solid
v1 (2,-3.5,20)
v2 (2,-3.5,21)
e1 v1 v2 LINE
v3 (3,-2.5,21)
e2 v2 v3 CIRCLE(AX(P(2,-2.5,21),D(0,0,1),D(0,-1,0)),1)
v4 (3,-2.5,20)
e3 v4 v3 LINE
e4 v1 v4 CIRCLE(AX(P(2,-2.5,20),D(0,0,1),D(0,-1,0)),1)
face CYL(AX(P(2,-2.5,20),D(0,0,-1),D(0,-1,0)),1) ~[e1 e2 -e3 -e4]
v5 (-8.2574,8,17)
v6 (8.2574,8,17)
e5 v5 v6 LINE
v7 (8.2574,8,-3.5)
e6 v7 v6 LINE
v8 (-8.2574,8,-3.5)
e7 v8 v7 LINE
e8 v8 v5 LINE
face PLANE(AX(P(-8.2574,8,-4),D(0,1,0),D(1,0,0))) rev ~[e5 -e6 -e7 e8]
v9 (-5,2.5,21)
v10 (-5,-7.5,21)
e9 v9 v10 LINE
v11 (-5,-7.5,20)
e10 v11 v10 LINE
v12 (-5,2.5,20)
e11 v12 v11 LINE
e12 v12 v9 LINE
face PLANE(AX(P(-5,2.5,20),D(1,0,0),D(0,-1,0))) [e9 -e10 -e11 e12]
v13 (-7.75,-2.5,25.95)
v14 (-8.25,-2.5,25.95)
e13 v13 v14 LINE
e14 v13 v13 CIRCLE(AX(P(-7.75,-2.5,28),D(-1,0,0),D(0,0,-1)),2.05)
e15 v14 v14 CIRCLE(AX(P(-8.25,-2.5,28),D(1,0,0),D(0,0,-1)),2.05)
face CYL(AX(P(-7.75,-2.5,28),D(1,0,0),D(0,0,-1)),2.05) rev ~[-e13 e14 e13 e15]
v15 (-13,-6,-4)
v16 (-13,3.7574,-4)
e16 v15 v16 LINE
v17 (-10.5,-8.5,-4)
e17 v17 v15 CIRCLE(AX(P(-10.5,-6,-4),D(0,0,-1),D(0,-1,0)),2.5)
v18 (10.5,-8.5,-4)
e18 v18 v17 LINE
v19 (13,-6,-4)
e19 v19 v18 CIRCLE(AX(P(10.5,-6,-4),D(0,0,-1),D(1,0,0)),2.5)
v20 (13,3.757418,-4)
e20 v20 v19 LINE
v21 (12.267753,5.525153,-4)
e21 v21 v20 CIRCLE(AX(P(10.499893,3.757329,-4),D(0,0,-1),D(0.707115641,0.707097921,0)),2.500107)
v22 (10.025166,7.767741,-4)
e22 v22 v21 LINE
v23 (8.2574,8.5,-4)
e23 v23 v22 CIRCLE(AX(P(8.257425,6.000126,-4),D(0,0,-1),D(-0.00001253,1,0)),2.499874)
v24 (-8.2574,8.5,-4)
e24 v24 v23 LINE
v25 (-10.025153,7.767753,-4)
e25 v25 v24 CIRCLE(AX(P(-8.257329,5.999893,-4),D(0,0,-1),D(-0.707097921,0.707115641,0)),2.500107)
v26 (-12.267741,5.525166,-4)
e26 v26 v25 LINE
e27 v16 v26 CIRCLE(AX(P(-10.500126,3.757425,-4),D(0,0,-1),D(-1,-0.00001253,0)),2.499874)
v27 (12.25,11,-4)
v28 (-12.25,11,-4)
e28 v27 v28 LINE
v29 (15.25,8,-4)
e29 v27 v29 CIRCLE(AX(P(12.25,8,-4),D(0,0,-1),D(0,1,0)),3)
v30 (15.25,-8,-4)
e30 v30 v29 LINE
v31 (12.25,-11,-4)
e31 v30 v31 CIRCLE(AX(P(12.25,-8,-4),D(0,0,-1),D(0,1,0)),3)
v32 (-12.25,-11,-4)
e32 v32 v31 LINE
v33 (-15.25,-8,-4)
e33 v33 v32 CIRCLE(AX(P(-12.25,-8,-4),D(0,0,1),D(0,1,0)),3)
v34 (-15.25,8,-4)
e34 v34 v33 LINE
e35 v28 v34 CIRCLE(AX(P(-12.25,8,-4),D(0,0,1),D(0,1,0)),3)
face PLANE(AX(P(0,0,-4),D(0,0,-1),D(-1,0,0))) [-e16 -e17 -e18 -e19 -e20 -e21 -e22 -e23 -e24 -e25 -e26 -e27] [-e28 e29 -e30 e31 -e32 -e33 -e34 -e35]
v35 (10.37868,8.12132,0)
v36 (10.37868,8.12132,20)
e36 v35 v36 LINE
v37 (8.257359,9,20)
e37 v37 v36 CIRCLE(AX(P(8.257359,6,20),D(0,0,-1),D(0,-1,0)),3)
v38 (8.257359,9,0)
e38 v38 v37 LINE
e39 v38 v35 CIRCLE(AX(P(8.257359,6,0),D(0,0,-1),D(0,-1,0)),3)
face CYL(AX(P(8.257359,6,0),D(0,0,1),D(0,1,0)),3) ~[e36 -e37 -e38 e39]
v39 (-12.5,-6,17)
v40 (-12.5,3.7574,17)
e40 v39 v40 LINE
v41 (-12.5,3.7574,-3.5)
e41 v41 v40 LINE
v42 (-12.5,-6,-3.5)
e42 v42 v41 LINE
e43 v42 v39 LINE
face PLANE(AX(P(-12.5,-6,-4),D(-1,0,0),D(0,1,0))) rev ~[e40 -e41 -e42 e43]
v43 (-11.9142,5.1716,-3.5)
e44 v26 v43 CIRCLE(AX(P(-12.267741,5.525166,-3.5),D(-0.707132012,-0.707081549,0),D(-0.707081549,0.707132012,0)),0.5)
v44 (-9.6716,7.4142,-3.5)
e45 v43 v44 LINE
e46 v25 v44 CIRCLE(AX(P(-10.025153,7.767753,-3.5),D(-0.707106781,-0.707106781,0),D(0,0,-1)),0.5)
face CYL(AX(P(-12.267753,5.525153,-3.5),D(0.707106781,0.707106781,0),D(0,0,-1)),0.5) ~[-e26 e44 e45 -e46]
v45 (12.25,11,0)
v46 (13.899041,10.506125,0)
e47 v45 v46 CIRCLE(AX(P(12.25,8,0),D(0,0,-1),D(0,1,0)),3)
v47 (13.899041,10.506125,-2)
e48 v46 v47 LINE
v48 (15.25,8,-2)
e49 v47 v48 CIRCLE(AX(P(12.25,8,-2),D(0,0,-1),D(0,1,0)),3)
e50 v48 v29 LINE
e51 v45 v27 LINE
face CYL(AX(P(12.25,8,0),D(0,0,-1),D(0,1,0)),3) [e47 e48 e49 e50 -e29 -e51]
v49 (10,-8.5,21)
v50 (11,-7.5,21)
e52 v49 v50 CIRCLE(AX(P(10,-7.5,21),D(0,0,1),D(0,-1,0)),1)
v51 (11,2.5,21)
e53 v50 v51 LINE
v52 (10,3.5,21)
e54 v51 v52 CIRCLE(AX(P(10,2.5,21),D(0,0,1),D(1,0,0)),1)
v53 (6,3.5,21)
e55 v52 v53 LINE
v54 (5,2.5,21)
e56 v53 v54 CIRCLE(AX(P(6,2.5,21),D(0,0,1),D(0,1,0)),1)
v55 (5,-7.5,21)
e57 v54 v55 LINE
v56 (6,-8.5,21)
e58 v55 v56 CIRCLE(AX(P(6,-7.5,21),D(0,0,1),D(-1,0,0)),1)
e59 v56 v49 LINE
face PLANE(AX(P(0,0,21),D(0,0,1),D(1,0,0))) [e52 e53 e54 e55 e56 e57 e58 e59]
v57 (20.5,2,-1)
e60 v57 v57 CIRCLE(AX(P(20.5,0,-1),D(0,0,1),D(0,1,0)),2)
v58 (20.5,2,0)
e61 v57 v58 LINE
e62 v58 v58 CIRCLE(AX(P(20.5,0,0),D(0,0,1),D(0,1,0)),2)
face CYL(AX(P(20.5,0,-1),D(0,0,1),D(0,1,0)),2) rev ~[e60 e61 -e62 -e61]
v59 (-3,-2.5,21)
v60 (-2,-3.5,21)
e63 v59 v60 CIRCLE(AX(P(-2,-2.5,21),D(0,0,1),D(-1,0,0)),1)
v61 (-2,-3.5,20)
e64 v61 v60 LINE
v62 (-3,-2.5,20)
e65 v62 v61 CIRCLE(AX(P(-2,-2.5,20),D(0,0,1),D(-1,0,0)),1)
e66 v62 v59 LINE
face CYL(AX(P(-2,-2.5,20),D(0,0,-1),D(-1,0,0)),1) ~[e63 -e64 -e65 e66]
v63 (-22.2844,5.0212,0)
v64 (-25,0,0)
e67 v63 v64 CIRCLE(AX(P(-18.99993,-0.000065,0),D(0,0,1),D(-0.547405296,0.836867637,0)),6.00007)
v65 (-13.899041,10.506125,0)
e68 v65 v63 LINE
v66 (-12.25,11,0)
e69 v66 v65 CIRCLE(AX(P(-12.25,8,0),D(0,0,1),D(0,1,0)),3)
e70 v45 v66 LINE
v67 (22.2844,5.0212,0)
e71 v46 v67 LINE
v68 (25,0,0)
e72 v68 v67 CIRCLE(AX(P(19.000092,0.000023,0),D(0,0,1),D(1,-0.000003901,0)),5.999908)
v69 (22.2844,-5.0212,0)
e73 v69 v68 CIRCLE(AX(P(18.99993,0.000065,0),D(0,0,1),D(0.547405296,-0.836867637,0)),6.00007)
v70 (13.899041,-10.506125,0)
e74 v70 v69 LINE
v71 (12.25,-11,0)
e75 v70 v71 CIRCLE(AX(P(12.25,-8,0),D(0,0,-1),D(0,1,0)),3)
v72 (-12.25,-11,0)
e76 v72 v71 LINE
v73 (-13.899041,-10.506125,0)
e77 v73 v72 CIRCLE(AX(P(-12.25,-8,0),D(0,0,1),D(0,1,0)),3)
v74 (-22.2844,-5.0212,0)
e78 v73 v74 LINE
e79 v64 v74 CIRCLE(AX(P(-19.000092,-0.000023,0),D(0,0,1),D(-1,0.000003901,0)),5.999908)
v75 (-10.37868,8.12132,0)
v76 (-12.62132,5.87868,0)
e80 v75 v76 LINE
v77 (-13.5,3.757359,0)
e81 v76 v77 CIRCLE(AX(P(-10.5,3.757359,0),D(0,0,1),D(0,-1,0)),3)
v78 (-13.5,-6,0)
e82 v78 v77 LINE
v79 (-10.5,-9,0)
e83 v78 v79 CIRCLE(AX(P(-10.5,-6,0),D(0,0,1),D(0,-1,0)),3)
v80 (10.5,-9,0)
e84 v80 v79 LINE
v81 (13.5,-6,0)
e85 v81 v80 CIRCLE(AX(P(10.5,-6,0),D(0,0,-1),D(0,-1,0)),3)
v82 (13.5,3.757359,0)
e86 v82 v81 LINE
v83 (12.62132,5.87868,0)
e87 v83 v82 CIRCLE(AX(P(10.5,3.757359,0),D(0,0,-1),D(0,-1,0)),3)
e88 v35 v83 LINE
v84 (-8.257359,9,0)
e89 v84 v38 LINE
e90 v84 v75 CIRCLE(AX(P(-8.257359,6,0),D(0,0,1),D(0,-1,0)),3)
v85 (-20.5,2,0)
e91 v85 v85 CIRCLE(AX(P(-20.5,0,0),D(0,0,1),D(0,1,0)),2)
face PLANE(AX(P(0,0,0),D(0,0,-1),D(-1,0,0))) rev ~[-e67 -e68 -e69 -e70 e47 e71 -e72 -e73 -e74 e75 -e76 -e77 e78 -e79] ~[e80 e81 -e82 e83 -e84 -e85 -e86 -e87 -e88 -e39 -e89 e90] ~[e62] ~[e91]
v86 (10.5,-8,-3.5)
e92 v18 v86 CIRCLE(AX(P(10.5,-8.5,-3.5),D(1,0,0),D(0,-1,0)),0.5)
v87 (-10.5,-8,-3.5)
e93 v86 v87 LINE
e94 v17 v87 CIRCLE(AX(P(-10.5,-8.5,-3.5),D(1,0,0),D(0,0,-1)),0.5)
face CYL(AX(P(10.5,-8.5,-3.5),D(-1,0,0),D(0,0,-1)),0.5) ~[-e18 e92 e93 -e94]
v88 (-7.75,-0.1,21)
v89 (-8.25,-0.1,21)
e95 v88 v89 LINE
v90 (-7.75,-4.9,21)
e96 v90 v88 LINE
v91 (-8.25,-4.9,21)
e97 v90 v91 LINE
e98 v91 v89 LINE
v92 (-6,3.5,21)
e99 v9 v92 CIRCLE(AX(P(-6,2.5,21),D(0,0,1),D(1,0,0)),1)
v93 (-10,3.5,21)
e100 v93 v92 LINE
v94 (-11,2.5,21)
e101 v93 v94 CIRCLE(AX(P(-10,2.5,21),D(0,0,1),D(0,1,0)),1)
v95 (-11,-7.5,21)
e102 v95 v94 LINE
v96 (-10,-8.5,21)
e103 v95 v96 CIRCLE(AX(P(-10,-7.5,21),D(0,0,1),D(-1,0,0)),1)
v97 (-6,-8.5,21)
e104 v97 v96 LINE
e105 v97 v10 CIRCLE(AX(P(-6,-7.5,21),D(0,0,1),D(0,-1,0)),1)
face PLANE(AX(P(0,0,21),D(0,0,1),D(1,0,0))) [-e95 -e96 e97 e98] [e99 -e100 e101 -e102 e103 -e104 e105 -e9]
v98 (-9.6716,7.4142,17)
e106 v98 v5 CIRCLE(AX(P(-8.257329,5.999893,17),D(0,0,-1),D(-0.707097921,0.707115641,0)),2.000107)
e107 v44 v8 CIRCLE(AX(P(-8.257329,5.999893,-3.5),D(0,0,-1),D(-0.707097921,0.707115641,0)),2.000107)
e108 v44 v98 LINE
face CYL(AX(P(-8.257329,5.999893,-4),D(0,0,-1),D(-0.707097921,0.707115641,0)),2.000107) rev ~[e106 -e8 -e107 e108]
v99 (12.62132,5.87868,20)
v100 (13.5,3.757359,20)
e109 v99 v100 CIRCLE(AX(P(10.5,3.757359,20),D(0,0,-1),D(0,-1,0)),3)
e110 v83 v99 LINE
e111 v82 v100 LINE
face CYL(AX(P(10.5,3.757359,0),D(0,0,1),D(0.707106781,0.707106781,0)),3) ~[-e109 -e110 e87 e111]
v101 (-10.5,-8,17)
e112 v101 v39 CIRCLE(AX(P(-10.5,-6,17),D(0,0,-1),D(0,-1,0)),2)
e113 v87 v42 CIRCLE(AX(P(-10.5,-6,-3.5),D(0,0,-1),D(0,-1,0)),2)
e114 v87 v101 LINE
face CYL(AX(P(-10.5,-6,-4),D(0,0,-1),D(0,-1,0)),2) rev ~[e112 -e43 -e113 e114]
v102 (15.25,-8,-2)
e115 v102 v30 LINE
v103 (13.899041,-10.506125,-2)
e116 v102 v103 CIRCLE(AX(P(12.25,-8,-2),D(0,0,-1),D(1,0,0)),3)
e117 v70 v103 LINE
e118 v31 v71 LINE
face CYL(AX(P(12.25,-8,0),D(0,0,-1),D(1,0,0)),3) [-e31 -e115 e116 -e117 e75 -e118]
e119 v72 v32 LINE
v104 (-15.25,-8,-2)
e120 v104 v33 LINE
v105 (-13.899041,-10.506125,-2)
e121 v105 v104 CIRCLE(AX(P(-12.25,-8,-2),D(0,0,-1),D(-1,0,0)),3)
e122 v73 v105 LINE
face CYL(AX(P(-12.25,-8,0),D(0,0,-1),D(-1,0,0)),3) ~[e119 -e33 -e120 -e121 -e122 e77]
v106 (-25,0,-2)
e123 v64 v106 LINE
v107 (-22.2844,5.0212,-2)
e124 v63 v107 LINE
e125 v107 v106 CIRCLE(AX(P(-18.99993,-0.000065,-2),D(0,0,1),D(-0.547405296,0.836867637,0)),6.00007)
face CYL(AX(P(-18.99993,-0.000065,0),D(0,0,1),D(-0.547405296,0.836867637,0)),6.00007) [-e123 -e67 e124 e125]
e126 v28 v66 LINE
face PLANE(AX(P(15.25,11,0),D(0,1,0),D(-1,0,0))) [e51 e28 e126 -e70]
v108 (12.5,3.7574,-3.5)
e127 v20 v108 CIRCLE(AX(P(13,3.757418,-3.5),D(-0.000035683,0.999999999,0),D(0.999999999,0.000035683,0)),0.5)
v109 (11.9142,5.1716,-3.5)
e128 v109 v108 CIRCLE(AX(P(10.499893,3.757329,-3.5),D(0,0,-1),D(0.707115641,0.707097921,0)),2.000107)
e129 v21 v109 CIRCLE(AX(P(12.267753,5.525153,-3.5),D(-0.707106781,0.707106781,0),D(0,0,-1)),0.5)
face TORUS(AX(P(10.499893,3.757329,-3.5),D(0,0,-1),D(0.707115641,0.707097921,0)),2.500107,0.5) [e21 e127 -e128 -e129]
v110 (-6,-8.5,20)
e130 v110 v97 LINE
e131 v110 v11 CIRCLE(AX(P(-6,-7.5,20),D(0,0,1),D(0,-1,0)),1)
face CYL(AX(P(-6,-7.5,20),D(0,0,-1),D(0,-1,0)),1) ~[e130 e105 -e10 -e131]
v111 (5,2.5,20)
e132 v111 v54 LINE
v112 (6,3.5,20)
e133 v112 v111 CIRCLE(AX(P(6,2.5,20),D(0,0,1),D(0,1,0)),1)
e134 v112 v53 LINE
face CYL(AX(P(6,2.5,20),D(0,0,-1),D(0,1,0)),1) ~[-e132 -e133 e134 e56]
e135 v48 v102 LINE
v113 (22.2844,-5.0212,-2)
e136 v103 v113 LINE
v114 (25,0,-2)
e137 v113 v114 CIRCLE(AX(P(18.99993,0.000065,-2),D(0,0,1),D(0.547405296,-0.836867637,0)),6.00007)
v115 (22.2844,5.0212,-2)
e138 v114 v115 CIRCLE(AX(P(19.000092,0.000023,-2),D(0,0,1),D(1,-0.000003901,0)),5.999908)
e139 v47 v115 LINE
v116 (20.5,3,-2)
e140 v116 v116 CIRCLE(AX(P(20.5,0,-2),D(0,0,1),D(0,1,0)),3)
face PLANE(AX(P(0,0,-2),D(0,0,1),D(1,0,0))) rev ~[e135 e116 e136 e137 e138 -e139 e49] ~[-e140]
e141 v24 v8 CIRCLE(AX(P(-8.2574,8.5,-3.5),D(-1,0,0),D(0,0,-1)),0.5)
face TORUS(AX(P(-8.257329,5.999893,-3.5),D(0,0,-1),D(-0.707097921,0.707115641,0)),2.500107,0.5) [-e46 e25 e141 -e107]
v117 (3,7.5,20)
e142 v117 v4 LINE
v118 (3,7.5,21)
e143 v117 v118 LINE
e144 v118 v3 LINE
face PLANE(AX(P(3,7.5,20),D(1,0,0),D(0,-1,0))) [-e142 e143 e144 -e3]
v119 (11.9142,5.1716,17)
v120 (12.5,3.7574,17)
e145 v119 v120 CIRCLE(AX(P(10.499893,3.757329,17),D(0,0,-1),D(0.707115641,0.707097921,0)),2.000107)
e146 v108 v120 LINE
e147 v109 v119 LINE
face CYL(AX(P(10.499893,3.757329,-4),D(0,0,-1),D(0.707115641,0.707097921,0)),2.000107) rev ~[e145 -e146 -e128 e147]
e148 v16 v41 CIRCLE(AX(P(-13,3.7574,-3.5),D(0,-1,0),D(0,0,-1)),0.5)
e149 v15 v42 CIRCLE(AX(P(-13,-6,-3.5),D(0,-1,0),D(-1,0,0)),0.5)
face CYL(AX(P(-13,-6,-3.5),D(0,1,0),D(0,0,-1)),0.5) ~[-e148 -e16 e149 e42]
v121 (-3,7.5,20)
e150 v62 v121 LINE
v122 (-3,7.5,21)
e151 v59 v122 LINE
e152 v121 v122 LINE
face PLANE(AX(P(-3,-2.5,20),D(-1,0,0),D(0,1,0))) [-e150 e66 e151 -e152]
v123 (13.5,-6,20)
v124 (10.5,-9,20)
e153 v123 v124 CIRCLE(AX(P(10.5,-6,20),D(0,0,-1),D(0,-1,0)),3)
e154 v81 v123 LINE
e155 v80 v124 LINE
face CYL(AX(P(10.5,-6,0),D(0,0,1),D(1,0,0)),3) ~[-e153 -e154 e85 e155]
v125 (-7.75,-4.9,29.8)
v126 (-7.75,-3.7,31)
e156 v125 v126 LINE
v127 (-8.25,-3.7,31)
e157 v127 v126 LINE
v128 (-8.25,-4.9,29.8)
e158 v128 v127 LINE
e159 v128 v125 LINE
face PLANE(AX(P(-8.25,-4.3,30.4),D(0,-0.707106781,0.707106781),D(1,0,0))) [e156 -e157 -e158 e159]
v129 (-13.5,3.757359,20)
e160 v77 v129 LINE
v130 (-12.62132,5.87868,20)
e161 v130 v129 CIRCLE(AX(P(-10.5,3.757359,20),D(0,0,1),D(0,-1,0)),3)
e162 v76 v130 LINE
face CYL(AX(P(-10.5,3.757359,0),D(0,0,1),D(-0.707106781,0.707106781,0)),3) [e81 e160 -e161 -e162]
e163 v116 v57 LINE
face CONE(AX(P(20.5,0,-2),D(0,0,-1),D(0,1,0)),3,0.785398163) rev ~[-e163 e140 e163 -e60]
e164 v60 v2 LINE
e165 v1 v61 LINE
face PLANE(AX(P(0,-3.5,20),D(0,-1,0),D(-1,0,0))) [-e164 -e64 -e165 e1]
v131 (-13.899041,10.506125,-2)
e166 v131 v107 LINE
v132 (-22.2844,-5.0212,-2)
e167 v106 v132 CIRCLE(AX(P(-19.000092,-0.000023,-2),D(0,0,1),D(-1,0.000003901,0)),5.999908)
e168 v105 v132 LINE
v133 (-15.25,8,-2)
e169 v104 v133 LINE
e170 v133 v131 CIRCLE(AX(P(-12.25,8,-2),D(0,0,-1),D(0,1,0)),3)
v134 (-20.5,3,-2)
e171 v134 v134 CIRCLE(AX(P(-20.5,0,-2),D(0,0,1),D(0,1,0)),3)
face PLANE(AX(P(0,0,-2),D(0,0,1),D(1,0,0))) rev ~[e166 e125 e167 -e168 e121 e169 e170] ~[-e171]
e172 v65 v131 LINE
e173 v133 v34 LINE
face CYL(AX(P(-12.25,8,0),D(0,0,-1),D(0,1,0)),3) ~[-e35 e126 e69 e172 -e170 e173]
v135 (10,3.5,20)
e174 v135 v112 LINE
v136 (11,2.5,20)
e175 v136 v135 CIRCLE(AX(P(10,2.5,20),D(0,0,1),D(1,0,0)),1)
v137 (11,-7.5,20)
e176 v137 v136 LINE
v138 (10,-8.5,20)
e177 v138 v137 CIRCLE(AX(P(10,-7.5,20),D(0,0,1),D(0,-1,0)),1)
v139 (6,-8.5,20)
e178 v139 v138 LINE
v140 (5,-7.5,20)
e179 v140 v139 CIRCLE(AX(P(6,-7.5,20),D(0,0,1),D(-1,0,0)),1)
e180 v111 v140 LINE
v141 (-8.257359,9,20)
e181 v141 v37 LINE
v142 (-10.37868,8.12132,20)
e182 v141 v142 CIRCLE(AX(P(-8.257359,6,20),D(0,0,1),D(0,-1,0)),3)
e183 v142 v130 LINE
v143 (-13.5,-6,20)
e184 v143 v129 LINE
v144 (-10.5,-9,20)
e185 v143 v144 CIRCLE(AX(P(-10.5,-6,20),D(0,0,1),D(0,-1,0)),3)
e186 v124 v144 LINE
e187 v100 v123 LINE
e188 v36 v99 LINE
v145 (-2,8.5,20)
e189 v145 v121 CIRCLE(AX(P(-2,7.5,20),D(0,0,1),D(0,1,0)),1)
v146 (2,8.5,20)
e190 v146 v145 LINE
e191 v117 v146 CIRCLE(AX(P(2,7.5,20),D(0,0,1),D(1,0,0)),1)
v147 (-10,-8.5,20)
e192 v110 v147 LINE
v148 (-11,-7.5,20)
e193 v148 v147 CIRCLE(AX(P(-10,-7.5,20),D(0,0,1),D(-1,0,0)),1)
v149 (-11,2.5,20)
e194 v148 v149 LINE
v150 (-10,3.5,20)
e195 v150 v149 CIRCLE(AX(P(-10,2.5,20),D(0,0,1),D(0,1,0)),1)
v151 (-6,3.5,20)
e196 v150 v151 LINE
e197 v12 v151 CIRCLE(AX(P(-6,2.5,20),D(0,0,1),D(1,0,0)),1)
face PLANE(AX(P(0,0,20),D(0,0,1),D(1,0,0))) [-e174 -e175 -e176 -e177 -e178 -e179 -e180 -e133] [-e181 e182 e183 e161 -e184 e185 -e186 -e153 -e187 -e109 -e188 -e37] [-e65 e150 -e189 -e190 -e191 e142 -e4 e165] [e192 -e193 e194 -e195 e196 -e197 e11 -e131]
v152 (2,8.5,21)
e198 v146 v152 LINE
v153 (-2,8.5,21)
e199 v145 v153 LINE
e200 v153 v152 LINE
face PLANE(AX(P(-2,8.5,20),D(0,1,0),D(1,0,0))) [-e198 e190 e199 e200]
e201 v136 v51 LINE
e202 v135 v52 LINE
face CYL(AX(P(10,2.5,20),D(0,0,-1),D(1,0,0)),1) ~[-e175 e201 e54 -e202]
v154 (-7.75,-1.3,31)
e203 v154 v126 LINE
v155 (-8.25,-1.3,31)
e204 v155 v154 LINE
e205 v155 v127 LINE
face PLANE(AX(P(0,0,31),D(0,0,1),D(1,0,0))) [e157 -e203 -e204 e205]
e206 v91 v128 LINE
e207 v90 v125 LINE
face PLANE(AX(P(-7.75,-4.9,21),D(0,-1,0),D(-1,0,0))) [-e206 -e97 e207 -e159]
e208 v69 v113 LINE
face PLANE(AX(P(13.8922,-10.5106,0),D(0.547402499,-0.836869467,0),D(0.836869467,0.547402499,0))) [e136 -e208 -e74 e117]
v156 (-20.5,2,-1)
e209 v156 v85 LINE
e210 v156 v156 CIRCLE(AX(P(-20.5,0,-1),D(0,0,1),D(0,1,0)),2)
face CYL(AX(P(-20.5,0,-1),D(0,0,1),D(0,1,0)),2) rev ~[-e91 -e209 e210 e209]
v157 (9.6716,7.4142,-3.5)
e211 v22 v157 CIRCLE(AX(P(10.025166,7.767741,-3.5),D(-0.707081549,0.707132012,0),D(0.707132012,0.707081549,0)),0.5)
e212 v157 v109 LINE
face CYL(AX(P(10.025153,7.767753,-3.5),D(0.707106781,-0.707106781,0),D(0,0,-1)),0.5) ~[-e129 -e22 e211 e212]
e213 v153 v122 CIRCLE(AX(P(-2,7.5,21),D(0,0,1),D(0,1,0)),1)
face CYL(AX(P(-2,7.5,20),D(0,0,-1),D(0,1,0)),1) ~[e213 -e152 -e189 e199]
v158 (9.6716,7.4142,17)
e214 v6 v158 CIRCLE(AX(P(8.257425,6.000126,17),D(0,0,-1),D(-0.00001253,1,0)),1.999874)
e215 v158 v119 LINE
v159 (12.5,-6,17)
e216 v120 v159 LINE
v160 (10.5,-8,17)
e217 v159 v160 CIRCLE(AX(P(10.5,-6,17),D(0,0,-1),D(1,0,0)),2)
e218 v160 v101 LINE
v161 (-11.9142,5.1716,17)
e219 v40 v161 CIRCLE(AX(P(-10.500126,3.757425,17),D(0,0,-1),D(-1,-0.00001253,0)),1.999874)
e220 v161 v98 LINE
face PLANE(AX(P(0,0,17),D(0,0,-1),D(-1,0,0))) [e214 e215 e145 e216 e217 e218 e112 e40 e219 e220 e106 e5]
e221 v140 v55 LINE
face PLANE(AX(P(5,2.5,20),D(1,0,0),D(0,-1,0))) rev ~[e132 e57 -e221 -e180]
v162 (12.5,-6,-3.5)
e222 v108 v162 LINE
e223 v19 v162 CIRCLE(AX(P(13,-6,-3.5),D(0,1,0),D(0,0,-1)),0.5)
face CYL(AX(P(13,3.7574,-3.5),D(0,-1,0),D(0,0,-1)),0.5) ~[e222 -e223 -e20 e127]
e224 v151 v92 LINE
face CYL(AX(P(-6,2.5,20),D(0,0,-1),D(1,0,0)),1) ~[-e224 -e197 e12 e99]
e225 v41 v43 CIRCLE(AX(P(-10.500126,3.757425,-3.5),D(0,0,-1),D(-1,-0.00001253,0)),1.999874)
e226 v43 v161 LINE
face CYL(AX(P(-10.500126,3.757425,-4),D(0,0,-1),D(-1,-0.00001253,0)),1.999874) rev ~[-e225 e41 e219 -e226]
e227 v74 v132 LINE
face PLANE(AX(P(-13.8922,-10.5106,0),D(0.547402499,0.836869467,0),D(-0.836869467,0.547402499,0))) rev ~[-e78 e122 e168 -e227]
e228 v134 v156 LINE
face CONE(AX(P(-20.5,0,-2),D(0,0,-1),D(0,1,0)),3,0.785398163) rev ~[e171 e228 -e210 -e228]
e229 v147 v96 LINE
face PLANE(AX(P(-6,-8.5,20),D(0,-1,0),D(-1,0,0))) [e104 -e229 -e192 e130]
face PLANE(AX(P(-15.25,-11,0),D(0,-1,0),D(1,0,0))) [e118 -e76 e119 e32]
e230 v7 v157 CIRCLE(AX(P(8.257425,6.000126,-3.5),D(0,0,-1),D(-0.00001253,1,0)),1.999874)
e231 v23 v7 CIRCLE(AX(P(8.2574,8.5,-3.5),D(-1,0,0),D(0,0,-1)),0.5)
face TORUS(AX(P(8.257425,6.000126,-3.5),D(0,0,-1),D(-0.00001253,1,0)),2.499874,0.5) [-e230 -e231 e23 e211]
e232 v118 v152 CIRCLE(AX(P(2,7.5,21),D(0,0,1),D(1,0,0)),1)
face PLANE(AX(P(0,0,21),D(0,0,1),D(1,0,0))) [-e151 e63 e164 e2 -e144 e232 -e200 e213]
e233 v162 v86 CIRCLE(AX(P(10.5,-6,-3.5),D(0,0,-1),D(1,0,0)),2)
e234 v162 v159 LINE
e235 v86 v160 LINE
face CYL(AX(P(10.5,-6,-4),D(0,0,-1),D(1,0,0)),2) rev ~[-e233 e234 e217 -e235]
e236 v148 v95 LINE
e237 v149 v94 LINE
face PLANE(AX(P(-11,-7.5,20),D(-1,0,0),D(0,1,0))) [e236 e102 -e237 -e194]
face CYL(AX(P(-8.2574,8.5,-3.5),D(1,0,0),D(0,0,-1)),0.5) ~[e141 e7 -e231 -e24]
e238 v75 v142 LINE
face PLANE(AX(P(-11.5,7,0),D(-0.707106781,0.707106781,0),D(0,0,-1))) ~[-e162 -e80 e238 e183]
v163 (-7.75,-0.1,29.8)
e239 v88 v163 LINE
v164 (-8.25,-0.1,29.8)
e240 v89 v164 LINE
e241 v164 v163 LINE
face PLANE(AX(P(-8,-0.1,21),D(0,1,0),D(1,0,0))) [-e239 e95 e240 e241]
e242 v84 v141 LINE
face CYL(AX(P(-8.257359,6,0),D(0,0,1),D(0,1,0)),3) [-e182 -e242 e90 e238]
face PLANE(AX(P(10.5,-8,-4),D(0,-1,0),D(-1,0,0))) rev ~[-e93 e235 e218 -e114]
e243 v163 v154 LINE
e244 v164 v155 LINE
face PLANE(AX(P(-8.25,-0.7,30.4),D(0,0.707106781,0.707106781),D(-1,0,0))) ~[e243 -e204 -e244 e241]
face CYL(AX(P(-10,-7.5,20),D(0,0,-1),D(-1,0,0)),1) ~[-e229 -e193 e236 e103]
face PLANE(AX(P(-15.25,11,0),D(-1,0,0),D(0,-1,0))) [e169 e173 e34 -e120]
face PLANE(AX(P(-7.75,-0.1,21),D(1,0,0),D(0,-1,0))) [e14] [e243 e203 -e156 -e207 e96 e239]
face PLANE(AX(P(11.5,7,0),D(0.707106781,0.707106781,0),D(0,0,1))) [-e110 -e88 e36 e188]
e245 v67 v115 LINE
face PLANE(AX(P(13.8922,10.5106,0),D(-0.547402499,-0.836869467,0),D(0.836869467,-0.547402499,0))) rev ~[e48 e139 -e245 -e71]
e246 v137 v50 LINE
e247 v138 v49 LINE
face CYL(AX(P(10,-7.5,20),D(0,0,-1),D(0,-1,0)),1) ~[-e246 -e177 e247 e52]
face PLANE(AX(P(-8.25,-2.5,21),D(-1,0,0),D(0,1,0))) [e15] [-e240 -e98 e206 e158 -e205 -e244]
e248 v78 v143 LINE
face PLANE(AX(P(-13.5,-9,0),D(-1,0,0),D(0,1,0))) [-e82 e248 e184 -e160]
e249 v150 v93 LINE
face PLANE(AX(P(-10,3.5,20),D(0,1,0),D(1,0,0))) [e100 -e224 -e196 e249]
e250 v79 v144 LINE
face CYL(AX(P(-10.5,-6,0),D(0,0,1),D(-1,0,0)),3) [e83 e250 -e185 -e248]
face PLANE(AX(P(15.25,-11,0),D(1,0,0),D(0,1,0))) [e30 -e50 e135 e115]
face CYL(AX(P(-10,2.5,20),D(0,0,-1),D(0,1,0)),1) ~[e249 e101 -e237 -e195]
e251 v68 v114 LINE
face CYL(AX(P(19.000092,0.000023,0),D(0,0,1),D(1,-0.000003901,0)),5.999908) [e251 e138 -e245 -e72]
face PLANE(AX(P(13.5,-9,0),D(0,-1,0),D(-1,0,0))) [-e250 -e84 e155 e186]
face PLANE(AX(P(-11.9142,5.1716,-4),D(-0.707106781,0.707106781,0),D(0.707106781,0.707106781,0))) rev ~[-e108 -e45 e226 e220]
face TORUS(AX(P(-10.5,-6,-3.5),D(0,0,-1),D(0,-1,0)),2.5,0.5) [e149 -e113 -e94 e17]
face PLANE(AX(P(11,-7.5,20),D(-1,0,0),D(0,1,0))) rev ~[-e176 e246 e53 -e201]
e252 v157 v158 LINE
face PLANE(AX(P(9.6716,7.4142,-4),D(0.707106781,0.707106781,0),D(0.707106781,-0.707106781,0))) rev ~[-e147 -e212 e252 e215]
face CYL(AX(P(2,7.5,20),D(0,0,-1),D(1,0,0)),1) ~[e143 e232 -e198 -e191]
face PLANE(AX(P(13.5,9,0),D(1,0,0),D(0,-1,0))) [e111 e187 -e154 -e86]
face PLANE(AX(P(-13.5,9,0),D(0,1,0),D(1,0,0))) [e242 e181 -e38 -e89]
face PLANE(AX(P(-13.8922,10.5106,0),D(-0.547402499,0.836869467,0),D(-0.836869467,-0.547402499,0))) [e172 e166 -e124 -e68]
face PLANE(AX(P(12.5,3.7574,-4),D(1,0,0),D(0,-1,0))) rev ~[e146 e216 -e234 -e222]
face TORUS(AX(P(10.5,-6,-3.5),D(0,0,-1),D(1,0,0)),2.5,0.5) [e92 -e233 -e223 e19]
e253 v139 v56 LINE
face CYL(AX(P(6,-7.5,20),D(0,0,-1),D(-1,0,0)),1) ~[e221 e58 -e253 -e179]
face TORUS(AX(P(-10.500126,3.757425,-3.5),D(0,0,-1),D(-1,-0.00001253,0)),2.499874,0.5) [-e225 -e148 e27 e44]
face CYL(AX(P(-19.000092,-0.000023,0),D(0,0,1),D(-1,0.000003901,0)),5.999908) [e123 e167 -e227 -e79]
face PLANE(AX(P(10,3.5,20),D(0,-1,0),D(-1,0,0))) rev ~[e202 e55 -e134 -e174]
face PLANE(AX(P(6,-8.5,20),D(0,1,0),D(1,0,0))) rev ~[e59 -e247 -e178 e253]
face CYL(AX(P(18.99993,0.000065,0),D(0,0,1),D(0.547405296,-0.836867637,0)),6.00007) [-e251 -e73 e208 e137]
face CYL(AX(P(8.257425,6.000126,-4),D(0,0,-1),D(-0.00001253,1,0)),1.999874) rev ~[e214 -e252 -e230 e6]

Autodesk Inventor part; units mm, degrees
ref_plane "YZ Plane" through (0, 0, 0) normal (1, 0, 0) x (0, 1, 0)
ref_plane "XZ Plane" through (0, 0, 0) normal (0, 1, 0) x (-1, 0, 0)
ref_plane "XY Plane" through (0, 0, 0) normal (0, 0, 1) x (1, 0, 0)
sketch "Sketch1" plane through (0, 0, 0) normal (0, 0, 1) x (1, 0, 0)
  line L0 (-13.5, 9) -> (13.5, 9)
  line L1 (13.5, 9) -> (13.5, -9)
  line L2 (13.5, -9) -> (-13.5, -9)
  line L3 (-13.5, -9) -> (-13.5, 9)
  line L4 (-13.5, 9) -> (13.5, -9) construction
  line L5 (13.5, 9) -> (-13.5, -9) construction
  point P0 (0, 0)
  dimension "c14_inside_outer_width" = 27
  dimension "c14_inside_outer_height" = 18
extrude "Extrusion1" add sketch "Sketch1" along normal blind 20
chamfer "Chamfer1" distance 4 angle 45 2 edges at (-13.5, 9, 10) (13.5, 9, 10)
sketch "Sketch2" plane through (0, 0, 20) normal (0, 0, 1) x (1, 0, 0)
  line L0 (-2, 8.5) -> (2, 8.5)
  line L1 (3, 7.5) -> (3, -2.5)
  line L2 (2, -3.5) -> (-2, -3.5)
  line L3 (-3, -2.5) -> (-3, 7.5)
  line L4 (-3, 8.5) -> (3, -3.5) construction
  line L5 (3, 8.5) -> (-3, -3.5) construction
  line L6 (9.5, 9) -> (-9.5, 9) construction
  line L7 (0, 9) -> (0, -9)
  line L8 (-13.5, -9) -> (13.5, -9) construction
  arc A0 (-2, 8.5) -> (-3, 7.5) centre (-2, 7.5) ccw
  arc A1 (3, 7.5) -> (2, 8.5) centre (2, 7.5) ccw
  arc A2 (2, -3.5) -> (3, -2.5) centre (2, -2.5) ccw
  arc A3 (-3, -2.5) -> (-2, -3.5) centre (-2, -2.5) ccw
  line L9 (-10, 3.5) -> (-6, 3.5)
  line L10 (-5, 2.5) -> (-5, -7.5)
  line L11 (-6, -8.5) -> (-10, -8.5)
  line L12 (-11, -7.5) -> (-11, 2.5)
  line L13 (-11, 3.5) -> (-5, -8.5) construction
  line L14 (-5, 3.5) -> (-11, -8.5) construction
  arc A4 (-10, 3.5) -> (-11, 2.5) centre (-10, 2.5) ccw
  arc A5 (-5, 2.5) -> (-6, 3.5) centre (-6, 2.5) ccw
  arc A6 (-6, -8.5) -> (-5, -7.5) centre (-6, -7.5) ccw
  arc A7 (-11, -7.5) -> (-10, -8.5) centre (-10, -7.5) ccw
  line L15 (6, -8.5) -> (10, -8.5)
  arc A8 (10, -8.5) -> (11, -7.5) centre (10, -7.5) ccw
  line L16 (5, 2.5) -> (5, -7.5)
  line L17 (11, -7.5) -> (11, 2.5)
  line L18 (11, 3.5) -> (5, -8.5) construction
  line L19 (5, 3.5) -> (11, -8.5) construction
  arc A9 (6, 3.5) -> (5, 2.5) centre (6, 2.5) ccw
  line L20 (10, 3.5) -> (6, 3.5)
  arc A10 (11, 2.5) -> (10, 3.5) centre (10, 2.5) ccw
  arc A11 (5, -7.5) -> (6, -8.5) centre (6, -7.5) ccw
  point P0 (0, 0)
  point P1 (0, 2.5)
  point P2 (-8, -2.5)
  point P3 (8, -2.5)
  dimension "d7" = 6
  dimension "d8" = 12
  dimension "d9" = 0.5
  dimension "d10" = 1
  dimension "d11" = 6
  dimension "d12" = 12
  dimension "d13" = 1
  dimension "d14" = 0.5
  dimension "d15" = 2
extrude "Extrusion2" add sketch "Sketch2" along normal blind 1
sketch "Sketch3" plane through (0, 0, 0) normal (0, 0, -1) x (-1, 0, 0)
  line L0 (-13.5, 5) -> (-9.5, 9) construction
  line L1 (-13.5, -9) -> (-13.5, 5) construction
  line L2 (13.5, -9) -> (-13.5, -9) construction
  line L3 (13.5, 5) -> (13.5, -9) construction
  line L4 (9.5, 9) -> (13.5, 5) construction
  line L5 (-9.5, 9) -> (9.5, 9) construction
  line L6 (0, 9) -> (0, -9)
  line L7 (-15.25, 11) -> (15.25, 11)
  line L8 (15.25, 11) -> (15.25, -11)
  line L9 (15.25, -11) -> (-15.25, -11)
  line L10 (-15.25, -11) -> (-15.25, 11)
  line L11 (-15.25, 11) -> (15.25, -11) construction
  line L12 (15.25, 11) -> (-15.25, -11) construction
  line L13 (-13.5, -9) -> (-13.5, 9) construction
  line L14 (-13.5, 0) -> (13.5, 0) construction
  point P0 (0, 0)
  point P1 (0, 0)
  dimension "c14_outer_width_1" = 30.5
  dimension "c14_outer_height" = 22
extrude "Extrusion3" add sketch "Sketch3" along normal blind 4
fillet "Fillet1" radius 3 4 edges at (-15.25, 11, -2) (-15.25, -11, -2) (15.25, -11, -2) (15.25, 11, -2)
sketch "Sketch5" plane through (0, 0, 0) normal (0, 0, 1) x (1, 0, 0)
  line L0 (-12.25, 11) -> (12.25, 11) projected
  arc A0 (-12.25, 11) -> (-15.25, 8) centre (-12.25, 8) ccw construction
  line L1 (-15.25, -8) -> (-15.25, 8) construction
  arc A1 (-15.25, -8) -> (-12.25, -11) centre (-12.25, -8) ccw construction
  line L2 (12.25, -11) -> (-12.25, -11) projected
  arc A2 (12.25, -11) -> (15.25, -8) centre (12.25, -8) ccw construction
  line L3 (15.25, 8) -> (15.25, -8) construction
  arc A3 (15.25, 8) -> (12.25, 11) centre (12.25, 8) ccw construction
  line L4 (0, 11) -> (0, -11)
  arc A4 (-12.25, 11) -> (-13.8922, 10.5106) centre (-12.25, 8) ccw
  line L5 (-13.8922, 10.5106) -> (-22.2844, 5.0212)
  line L6 (-15.25, 0) -> (15.25, 0)
  arc A5 (-22.2844, 5.0212) -> (-25, 0) centre (-19, 0) ccw
  line L7 (-15.25, 0) -> (-70.2247, 0)
  arc A6 (-13.8922, -10.5106) -> (-12.25, -11) centre (-12.25, -8) ccw
  line L8 (-13.8922, -10.5106) -> (-22.2844, -5.0212)
  arc A7 (-25, 0) -> (-22.2844, -5.0212) centre (-19, 0) ccw
  arc A8 (13.8922, 10.5106) -> (12.25, 11) centre (12.25, 8) ccw
  line L9 (13.8922, 10.5106) -> (22.2844, 5.0212)
  arc A9 (25, 0) -> (22.2844, 5.0212) centre (19, 0) ccw
  arc A10 (12.25, -11) -> (13.8922, -10.5106) centre (12.25, -8) ccw
  line L10 (13.8922, -10.5106) -> (22.2844, -5.0212)
  arc A11 (22.2844, -5.0212) -> (25, 0) centre (19, 0) ccw
  point P0 (0, 0)
  dimension "d26" = 50
  dimension "d27" = 3
  dimension "d28" = 6
extrude "Extrusion5" add sketch "Sketch5" against normal blind 2
sketch "Sketch6" plane through (0, 0, -2) normal (0, 0, -1) x (-1, 0, 0)
  arc A0 (22.2844, -5.0212) -> (22.2844, 5.0212) centre (19, 0) ccw construction
  arc A1 (-22.2844, 5.0212) -> (-22.2844, -5.0212) centre (-19, 0) ccw construction
  line L0 (-25, 0) -> (25, 0) construction
  line L1 (0, 10) -> (0, -11) construction
  line L2 (-12.25, -11) -> (12.25, -11) construction
  point P0 (0, 0)
  point P1 (-20.5, 0)
  point P2 (20.5, 0)
  dimension "d55" = 41
hole "Hole1" at (20.5, 0, -2) at (-20.5, 0, -2) direction (0, 0, 1) diameter 4 end through all countersink diameter 6 countersink angle 90
fillet "Fillet3" radius 3 6 edges at (-13.5, 5, 10) (-9.5, 9, 10) (-13.5, -9, 10) (13.5, -9, 10) (13.5, 5, 10) (9.5, 9, 10)
sketch "Sketch7" plane through (0, 0, -4) normal (0, 0, -1) x (-1, 0, 0)
  line L0 (10.5, -9) -> (-10.5, -9) construction
  arc A0 (-13.5, -6) -> (-10.5, -9) centre (-10.5, -6) ccw construction
  line L1 (-13.5, -6) -> (-13.5, 3.7574) construction
  arc A1 (-12.6213, 5.8787) -> (-13.5, 3.7574) centre (-10.5, 3.7574) ccw construction
  line L2 (-10.3787, 8.1213) -> (-12.6213, 5.8787) construction
  arc A2 (-8.2574, 9) -> (-10.3787, 8.1213) centre (-8.2574, 6) ccw construction
  line L3 (-8.2574, 9) -> (8.2574, 9) construction
  arc A3 (10.3787, 8.1213) -> (8.2574, 9) centre (8.2574, 6) ccw construction
  line L4 (12.6213, 5.8787) -> (10.3787, 8.1213) construction
  arc A4 (13.5, 3.7574) -> (12.6213, 5.8787) centre (10.5, 3.7574) ccw construction
  line L5 (13.5, 3.7574) -> (13.5, -6) construction
  arc A5 (10.5, -9) -> (13.5, -6) centre (10.5, -6) ccw construction
  arc A6 (-11.9142, 5.1716) -> (-12.5, 3.7574) centre (-10.5, 3.7574) ccw
  line L6 (-12.5, 3.7574) -> (-12.5, -6)
  arc A7 (-12.5, -6) -> (-10.5, -8) centre (-10.5, -6) ccw
  line L7 (-10.5, -8) -> (10.5, -8)
  arc A8 (10.5, -8) -> (12.5, -6) centre (10.5, -6) ccw
  line L8 (12.5, -6) -> (12.5, 3.7574)
  arc A9 (12.5, 3.7574) -> (11.9142, 5.1716) centre (10.5, 3.7574) ccw
  line L9 (11.9142, 5.1716) -> (9.6716, 7.4142)
  arc A10 (9.6716, 7.4142) -> (8.2574, 8) centre (8.2574, 6) ccw
  line L10 (8.2574, 8) -> (-8.2574, 8)
  arc A11 (-8.2574, 8) -> (-9.6716, 7.4142) centre (-8.2574, 6) ccw
  line L11 (-9.6716, 7.4142) -> (-11.9142, 5.1716)
  point P0 (0, 0)
  dimension "d40" = 1
extrude "Extrusion6" cut sketch "Sketch7" against normal blind 21
fillet "Fillet4" radius 0.5 12 edges at (0, 8, -4) (-9.0227, 7.8478, -4) (-10.7929, 6.2929, -4) (-12.3478, 4.5227, -4) (-12.5, -1.1213, -4) (-11.9142, -7.4142, -4) (0, -8, -4) (11.9142, -7.4142, -4) (12.5, -1.1213, -4) (12.3478, 4.5227, -4) (10.7929, 6.2929, -4) (9.0227, 7.8478, -4)
sketch "Sketch8" plane through (0, 0, 21) normal (0, 0, 1) x (1, 0, 0)
  line L0 (-6, 3.5) -> (-10, 3.5) construction
  arc A0 (-10, 3.5) -> (-11, 2.5) centre (-10, 2.5) ccw construction
  line L1 (-11, 2.5) -> (-11, -7.5) construction
  arc A1 (-11, -7.5) -> (-10, -8.5) centre (-10, -7.5) ccw construction
  line L2 (-10, -8.5) -> (-6, -8.5) construction
  arc A2 (-6, -8.5) -> (-5, -7.5) centre (-6, -7.5) ccw construction
  line L3 (-5, -7.5) -> (-5, 2.5) construction
  arc A3 (-5, 2.5) -> (-6, 3.5) centre (-6, 2.5) ccw construction
  line L4 (-8, 3.5) -> (-8, -8.5)
  line L5 (-11, -2.5) -> (-5, -2.5)
  line L6 (-8.25, -0.1) -> (-7.75, -0.1)
  line L7 (-7.75, -0.1) -> (-7.75, -4.9)
  line L8 (-7.75, -4.9) -> (-8.25, -4.9)
  line L9 (-8.25, -4.9) -> (-8.25, -0.1)
  line L10 (-8.25, -0.1) -> (-7.75, -4.9) construction
  line L11 (-7.75, -0.1) -> (-8.25, -4.9) construction
  point P0 (0, 0)
  point P1 (-8, -2.5)
  dimension "d44" = 0.5
  dimension "d45" = 4.8
extrude "Extrusion7" add sketch "Sketch8" along normal blind 10
chamfer "Chamfer2" distance 1.2 angle 45 2 edges at (-8, -0.1, 31) (-8, -4.9, 31)
sketch "Sketch9" plane through (-7.75, -4.9, 21) normal (1, 0, 0) x (0, 0, -1)
  line L0 (-10, 1.2) -> (-10, 3.6) construction
  line L1 (-10, 2.4) -> (0.0273, 2.4)
  circle A0 centre (-7, 2.4) radius 2.05
  point P0 (21, 4.9)
  dimension "d51" = 4.1
  dimension "d52" = 3
extrude "Extrusion8" cut sketch "Sketch9" against normal blind 10
equation "\"d27\" = c14_outer_fillet"
equation "\"d39\" = c14_outer_fillet"
equation "\"c14_outer_fillet\" = 3"
properties part number "my_C14"
